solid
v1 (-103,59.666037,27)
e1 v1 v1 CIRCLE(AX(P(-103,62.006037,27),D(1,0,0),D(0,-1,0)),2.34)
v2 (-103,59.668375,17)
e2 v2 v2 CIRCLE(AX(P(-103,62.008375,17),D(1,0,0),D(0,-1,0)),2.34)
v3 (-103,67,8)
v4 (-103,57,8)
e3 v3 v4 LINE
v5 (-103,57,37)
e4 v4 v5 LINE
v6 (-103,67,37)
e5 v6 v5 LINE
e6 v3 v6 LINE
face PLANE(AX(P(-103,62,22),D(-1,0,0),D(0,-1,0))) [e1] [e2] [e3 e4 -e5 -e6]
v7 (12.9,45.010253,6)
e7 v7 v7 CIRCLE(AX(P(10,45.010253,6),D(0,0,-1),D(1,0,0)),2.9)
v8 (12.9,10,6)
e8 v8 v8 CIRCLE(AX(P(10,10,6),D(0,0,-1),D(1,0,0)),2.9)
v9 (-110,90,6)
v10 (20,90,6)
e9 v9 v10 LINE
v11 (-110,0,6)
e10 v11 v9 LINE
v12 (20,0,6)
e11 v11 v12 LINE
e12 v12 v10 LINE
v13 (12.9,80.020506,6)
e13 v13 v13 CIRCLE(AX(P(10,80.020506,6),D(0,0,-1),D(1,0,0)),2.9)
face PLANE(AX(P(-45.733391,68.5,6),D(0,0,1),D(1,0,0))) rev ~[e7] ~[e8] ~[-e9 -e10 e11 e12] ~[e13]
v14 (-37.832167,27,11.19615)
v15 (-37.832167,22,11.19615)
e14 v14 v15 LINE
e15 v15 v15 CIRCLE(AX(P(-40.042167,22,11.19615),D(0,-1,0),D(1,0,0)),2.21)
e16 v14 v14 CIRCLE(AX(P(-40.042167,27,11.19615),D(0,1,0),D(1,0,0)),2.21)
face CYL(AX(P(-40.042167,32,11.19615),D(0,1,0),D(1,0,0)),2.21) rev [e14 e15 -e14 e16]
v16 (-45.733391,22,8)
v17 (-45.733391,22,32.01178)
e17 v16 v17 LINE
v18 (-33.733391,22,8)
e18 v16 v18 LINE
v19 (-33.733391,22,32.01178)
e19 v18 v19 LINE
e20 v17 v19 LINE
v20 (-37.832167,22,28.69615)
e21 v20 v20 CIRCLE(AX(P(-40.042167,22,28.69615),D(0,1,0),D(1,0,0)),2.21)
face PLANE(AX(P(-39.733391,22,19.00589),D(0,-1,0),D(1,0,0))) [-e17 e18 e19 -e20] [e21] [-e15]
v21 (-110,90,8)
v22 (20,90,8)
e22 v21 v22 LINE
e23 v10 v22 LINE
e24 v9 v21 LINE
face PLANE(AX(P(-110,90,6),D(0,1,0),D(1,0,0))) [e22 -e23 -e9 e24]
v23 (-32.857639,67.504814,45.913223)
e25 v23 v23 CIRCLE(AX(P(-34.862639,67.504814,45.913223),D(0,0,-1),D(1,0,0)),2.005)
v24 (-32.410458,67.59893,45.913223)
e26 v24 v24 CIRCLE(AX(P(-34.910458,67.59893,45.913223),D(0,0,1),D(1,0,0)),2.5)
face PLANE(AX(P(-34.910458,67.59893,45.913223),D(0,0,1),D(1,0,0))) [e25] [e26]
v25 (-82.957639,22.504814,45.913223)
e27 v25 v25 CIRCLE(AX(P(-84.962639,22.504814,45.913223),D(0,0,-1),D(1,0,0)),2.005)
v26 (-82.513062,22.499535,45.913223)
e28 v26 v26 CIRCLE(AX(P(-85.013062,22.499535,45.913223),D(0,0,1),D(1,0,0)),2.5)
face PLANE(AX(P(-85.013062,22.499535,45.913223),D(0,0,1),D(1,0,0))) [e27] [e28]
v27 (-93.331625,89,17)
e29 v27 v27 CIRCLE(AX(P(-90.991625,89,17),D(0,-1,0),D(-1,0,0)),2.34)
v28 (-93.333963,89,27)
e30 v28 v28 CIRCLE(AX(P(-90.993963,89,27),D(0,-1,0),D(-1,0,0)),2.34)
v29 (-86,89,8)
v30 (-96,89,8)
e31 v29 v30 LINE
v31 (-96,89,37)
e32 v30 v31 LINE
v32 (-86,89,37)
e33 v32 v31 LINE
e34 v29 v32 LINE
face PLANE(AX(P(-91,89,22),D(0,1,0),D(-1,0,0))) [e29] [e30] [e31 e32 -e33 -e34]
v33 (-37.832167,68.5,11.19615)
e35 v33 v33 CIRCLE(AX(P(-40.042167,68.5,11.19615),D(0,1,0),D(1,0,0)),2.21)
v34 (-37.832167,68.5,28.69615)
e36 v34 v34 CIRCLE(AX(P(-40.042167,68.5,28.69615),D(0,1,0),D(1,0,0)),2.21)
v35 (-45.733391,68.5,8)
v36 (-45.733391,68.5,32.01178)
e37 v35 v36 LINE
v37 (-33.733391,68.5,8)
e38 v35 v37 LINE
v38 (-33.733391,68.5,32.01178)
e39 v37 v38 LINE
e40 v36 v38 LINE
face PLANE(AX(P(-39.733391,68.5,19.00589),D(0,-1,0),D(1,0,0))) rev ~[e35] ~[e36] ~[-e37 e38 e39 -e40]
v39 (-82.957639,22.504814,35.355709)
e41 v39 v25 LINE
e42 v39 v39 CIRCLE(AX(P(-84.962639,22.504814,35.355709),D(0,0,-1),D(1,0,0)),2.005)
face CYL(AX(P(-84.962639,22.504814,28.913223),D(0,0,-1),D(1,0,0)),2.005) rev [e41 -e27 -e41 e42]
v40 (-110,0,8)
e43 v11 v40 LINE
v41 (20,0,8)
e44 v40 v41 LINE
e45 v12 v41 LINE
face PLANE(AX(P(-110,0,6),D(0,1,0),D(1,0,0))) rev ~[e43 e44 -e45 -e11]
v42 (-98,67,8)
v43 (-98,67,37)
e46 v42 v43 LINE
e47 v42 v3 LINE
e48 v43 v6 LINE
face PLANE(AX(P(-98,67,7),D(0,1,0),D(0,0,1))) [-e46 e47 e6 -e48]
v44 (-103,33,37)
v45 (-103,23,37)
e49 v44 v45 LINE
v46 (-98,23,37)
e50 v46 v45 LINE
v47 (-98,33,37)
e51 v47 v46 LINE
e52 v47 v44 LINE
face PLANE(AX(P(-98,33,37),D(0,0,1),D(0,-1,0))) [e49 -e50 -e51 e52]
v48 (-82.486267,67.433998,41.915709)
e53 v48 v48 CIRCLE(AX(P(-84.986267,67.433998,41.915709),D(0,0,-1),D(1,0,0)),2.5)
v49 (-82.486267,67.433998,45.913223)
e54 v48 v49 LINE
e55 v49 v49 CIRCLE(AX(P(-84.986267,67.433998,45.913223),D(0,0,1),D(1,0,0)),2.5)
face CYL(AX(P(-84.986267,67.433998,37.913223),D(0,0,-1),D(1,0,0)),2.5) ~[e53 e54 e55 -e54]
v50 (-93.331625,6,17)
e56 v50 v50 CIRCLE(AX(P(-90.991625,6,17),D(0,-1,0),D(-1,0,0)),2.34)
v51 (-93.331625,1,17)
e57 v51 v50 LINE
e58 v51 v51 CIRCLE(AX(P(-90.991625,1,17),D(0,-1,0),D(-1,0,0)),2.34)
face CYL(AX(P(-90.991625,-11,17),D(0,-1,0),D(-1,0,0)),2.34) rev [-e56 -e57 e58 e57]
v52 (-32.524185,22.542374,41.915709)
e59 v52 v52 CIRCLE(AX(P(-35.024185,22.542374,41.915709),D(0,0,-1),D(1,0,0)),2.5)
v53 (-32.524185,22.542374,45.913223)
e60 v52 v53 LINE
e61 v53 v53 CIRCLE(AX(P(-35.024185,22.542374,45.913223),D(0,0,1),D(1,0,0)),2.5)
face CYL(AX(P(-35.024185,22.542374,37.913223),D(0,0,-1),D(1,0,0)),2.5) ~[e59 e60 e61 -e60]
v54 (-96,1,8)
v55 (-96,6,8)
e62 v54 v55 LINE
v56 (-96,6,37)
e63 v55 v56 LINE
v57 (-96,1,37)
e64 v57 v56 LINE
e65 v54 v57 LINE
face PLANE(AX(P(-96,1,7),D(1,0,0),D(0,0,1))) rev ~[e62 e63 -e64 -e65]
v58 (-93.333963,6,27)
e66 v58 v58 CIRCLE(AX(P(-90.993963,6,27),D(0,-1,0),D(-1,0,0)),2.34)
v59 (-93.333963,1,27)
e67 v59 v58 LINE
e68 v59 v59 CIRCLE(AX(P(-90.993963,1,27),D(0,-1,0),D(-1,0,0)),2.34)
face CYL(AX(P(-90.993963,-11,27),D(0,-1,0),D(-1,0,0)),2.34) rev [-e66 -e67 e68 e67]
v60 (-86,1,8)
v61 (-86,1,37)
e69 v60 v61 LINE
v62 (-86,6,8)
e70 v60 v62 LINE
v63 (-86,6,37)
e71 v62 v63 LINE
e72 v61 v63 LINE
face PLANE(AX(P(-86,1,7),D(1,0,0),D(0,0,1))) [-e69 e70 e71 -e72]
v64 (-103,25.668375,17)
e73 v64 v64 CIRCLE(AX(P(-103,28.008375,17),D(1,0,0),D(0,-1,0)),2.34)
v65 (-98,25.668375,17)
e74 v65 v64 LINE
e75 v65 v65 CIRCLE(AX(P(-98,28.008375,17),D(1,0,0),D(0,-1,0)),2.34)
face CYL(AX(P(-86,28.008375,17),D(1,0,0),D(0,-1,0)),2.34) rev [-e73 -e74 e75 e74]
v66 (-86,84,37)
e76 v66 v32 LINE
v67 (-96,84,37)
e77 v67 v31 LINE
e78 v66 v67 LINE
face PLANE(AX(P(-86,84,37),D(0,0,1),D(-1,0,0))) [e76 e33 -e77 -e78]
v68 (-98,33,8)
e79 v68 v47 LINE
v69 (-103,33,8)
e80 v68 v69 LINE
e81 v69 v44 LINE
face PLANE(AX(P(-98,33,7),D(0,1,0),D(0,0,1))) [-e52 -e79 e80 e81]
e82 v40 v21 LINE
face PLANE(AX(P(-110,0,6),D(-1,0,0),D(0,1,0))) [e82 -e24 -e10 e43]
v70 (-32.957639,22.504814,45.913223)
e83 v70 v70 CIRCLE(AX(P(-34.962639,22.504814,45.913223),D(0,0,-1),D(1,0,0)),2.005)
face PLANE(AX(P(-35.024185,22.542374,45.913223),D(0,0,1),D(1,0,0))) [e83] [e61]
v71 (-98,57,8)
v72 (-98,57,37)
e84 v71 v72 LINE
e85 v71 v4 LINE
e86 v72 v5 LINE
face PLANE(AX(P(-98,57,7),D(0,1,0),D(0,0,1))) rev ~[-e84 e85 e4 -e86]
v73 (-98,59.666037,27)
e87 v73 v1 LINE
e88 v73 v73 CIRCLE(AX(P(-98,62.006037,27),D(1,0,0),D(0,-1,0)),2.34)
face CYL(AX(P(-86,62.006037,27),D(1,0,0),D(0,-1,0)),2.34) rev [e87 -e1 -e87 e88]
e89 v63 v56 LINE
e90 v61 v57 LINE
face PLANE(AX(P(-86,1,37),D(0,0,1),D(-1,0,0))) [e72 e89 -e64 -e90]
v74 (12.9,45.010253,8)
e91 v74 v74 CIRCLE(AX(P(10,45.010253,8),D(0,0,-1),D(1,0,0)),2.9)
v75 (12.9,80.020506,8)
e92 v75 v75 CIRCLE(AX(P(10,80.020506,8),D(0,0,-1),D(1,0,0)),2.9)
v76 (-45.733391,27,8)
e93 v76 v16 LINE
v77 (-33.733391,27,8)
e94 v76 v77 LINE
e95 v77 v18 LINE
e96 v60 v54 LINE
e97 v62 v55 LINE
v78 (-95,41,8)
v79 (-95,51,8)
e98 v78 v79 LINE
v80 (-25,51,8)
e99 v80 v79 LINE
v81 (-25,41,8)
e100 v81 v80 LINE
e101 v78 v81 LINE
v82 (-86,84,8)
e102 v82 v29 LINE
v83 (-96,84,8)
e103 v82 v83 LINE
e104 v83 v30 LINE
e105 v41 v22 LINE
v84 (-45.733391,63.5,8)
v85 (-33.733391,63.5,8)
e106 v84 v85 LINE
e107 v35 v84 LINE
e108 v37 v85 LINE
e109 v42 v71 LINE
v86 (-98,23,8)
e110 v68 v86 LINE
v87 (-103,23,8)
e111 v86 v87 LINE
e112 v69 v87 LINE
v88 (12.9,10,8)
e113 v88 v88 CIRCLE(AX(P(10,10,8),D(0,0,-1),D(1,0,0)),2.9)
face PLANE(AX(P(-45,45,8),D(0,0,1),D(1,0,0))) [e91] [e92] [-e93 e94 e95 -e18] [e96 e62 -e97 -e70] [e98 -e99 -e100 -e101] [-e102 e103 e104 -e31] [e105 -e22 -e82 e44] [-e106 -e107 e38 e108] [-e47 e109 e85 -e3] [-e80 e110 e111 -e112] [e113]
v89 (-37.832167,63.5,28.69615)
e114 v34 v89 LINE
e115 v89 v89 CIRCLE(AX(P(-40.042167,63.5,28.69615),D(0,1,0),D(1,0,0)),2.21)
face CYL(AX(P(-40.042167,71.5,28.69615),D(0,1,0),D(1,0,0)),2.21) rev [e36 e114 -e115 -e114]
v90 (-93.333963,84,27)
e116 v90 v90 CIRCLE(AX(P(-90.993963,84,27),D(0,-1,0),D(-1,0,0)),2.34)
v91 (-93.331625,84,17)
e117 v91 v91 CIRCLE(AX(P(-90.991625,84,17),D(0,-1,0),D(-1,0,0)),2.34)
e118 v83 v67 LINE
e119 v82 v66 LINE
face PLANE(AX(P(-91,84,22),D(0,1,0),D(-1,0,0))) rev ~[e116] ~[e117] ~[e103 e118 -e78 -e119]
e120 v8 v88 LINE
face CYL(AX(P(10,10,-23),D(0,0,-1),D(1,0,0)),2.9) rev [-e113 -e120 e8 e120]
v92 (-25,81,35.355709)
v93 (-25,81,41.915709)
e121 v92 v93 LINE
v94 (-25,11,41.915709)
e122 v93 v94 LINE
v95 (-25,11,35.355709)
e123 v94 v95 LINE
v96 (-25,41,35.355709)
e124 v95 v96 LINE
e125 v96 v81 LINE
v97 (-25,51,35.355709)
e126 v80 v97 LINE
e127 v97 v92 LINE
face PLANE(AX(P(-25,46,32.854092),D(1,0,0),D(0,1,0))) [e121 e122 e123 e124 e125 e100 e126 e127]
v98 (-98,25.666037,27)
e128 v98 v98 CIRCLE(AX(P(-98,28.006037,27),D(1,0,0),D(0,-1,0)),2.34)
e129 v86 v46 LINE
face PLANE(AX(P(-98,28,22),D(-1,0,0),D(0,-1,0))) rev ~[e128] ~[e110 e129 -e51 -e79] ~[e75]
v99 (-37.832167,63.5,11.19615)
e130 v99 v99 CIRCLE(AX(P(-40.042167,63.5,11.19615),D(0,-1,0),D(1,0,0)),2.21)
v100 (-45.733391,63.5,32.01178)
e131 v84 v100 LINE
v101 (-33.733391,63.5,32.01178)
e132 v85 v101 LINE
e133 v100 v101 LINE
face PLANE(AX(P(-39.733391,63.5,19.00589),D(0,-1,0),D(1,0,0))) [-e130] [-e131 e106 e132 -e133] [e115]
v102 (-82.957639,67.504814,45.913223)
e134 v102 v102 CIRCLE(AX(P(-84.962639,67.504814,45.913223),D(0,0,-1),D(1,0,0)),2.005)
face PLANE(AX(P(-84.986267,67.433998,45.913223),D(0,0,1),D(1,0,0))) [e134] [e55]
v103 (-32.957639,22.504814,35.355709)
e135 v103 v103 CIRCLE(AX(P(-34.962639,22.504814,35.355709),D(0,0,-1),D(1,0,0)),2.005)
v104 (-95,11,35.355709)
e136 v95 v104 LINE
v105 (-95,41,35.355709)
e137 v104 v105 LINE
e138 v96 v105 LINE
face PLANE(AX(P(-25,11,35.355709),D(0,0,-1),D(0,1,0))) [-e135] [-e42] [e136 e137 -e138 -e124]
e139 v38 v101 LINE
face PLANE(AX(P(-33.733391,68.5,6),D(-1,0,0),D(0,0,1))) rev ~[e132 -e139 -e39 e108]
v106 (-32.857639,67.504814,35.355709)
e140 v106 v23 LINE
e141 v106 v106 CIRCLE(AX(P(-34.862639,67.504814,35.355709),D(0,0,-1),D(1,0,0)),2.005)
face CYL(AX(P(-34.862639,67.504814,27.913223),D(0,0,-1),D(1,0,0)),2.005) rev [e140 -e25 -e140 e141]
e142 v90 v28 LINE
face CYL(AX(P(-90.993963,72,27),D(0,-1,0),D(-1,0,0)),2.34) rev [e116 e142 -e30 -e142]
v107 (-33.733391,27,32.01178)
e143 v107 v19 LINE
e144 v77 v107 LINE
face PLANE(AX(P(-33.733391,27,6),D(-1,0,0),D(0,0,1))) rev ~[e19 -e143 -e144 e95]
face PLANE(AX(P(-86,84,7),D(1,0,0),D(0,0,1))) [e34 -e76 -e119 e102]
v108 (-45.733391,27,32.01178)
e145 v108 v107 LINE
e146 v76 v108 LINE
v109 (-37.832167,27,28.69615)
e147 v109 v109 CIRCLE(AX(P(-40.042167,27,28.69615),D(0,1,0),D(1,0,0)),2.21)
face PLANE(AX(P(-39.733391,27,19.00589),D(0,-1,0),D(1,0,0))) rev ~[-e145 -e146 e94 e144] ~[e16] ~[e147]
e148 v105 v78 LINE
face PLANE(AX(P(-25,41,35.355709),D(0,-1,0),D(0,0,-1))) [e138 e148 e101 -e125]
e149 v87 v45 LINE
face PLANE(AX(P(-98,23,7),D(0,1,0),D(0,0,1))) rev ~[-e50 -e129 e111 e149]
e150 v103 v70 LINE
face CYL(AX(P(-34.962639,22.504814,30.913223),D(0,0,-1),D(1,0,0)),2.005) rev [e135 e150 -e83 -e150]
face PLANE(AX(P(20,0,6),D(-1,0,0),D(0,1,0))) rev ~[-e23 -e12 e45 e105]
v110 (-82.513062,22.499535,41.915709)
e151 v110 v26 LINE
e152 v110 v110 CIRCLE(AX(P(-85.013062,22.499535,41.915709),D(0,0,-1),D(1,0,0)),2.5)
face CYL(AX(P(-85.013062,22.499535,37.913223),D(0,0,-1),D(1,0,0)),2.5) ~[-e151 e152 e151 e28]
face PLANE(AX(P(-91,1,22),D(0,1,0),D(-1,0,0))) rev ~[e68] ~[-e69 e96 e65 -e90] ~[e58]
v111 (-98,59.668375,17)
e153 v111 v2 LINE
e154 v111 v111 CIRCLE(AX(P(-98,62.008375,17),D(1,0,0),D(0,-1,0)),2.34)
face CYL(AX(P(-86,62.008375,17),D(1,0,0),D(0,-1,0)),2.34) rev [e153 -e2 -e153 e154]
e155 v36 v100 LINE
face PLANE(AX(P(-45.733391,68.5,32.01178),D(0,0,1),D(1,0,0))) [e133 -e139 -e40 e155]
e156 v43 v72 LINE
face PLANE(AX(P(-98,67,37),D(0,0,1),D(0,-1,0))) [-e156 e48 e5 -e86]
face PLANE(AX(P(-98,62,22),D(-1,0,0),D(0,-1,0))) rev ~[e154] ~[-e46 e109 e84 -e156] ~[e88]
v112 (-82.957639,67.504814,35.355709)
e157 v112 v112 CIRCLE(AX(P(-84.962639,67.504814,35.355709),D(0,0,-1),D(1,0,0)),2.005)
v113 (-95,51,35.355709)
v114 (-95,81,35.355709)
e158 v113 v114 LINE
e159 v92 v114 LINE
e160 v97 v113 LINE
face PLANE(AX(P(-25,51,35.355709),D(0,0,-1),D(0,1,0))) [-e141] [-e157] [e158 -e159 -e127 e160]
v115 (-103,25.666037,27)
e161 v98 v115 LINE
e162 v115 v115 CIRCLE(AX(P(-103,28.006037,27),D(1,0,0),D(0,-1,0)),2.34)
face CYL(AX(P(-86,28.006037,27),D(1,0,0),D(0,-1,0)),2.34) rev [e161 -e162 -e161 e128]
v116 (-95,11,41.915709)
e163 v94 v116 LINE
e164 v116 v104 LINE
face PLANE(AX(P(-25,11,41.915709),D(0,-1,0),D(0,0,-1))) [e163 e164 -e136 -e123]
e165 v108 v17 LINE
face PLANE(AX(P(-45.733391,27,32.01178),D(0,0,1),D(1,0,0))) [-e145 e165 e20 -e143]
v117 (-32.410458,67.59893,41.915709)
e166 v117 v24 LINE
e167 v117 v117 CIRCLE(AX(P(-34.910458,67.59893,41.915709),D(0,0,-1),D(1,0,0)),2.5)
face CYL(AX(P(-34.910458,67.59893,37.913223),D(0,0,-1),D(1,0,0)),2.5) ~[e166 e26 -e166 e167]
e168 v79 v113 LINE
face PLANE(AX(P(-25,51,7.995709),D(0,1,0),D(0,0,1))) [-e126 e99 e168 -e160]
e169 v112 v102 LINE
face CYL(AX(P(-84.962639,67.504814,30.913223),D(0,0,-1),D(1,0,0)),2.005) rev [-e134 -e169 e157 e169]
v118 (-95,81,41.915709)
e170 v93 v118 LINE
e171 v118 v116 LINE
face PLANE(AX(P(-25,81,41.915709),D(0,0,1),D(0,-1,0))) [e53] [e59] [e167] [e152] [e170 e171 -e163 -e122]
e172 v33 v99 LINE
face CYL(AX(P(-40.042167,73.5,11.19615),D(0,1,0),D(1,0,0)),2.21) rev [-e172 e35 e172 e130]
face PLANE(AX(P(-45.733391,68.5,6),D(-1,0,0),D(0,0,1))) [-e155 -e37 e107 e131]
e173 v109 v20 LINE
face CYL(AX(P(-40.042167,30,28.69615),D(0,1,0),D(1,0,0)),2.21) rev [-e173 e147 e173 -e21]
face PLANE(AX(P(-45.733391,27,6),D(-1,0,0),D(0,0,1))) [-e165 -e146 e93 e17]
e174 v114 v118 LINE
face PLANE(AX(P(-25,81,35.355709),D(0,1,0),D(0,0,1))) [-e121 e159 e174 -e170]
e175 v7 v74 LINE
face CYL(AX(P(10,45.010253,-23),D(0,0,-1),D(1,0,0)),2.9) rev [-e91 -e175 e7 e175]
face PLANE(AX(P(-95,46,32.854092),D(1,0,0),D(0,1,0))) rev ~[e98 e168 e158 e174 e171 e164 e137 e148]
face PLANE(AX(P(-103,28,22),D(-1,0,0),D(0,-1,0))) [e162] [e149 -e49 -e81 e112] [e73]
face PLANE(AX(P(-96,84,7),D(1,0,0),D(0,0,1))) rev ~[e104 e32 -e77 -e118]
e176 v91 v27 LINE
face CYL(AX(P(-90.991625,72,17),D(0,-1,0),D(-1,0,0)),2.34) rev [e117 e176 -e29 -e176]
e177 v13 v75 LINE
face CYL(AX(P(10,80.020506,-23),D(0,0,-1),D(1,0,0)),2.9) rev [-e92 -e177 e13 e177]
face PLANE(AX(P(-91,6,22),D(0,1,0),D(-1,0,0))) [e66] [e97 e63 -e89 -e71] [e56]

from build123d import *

# Parameters (mm, degrees)
SKETCH058_R                = 2.21
EXTRUDE064_DEPTH           = 10
SKETCH057_R                = 2.21
EXTRUDE063_DEPTH           = 10
SKETCH056_W                = 12
SKETCH056_H                = 26.01178
EXTRUDE062_DEPTH           = 5
SKETCH055_R                = 2.21
EXTRUDE061_DEPTH           = 10
SKETCH054_R                = 2.21
EXTRUDE060_DEPTH           = 10
SKETCH053_W                = 12
SKETCH053_H                = 26.01178
EXTRUDE059_DEPTH           = 5
SKETCH048_R                = 2.34
EXTRUDE050_DEPTH           = 20
SKETCH047_W                = 10
SKETCH047_H                = 30
EXTRUDE049_DEPTH           = 5
EXTRUDE049_PLACEMENT_ANGLE = 90
CUT029_PLACEMENT_ANGLE     = 90
SKETCH040_R                = 2.34
EXTRUDE042_DEPTH           = 20
SKETCH039_W                = 10
SKETCH039_H                = 30
EXTRUDE041_DEPTH           = 5
EXTRUDE041_PLACEMENT_ANGLE = 90
SKETCH038_R                = 2.34
EXTRUDE039_DEPTH           = 20
SKETCH037_W                = 10
SKETCH037_H                = 30
EXTRUDE038_DEPTH           = 5
EXTRUDE038_PLACEMENT_ANGLE = 90
SKETCH046_R                = 2.34
EXTRUDE048_DEPTH           = 20
SKETCH045_W                = 10
SKETCH045_H                = 30
EXTRUDE047_DEPTH           = 5
EXTRUDE047_PLACEMENT_ANGLE = 90
CUT026_PLACEMENT_ANGLE     = 90
SKETCH016_R                = 2.005
EXTRUDE058_DEPTH           = 20
EXTRUDE057_DEPTH           = 20
EXTRUDE056_DEPTH           = 20
EXTRUDE055_DEPTH           = 20
SKETCH015_R                = 2.5
EXTRUDE054_DEPTH           = 8
EXTRUDE053_DEPTH           = 70
EXTRUDE053_PLACEMENT_ANGLE = 90
SKETCH051_R                = 2.9
EXTRUDE052_DEPTH           = 50
SKETCH050_W                = 130
SKETCH050_H                = 90
EXTRUDE051_DEPTH           = 2


with BuildPart() as extrude064:
    # Sketch058 → Extrude064 (new body)
    with BuildSketch(Plane.XZ):
        with Locations((-30.242167, 20.01615)):
            Circle(SKETCH058_R)
    extrude(amount=EXTRUDE064_DEPTH)


with BuildPart() as extrude064_1:
    # Extrude064 placement: moved
    add(extrude064.part.moved(Location((-9.8, 5, -14.82))))


with BuildPart() as extrude063:
    # Sketch057 → Extrude063 (new body)
    with BuildSketch(Plane.XZ):
        with Locations((-30.242167, 20.01615)):
            Circle(SKETCH057_R)
    extrude(amount=EXTRUDE063_DEPTH)


with BuildPart() as extrude063_1:
    # Extrude063 placement: moved
    add(extrude063.part.moved(Location((-9.8, 3, 2.68))))


with BuildPart() as cut035:
    # Sketch056 → Extrude062 (new body)
    with BuildSketch(Plane.XZ):
        with Locations((-39.733391, 13.00589)):
            Rectangle(SKETCH056_W, SKETCH056_H)
    extrude(amount=EXTRUDE062_DEPTH)

    # Cut034: cut Extrude063
    add(extrude063_1.part, mode=Mode.SUBTRACT)

    # Cut035: cut Extrude064
    add(extrude064_1.part, mode=Mode.SUBTRACT)


with BuildPart() as cut035_1:
    # Cut035 placement: moved
    add(cut035.part.moved(Location((0, 68.5, 6))))


with BuildPart() as extrude061:
    # Sketch055 → Extrude061 (new body)
    with BuildSketch(Plane.XZ):
        with Locations((-30.242167, 20.01615)):
            Circle(SKETCH055_R)
    extrude(amount=EXTRUDE061_DEPTH)


with BuildPart() as extrude061_1:
    # Extrude061 placement: moved
    add(extrude061.part.moved(Location((-9.8, 5, -14.82))))


with BuildPart() as extrude060:
    # Sketch054 → Extrude060 (new body)
    with BuildSketch(Plane.XZ):
        with Locations((-30.242167, 20.01615)):
            Circle(SKETCH054_R)
    extrude(amount=EXTRUDE060_DEPTH)


with BuildPart() as extrude060_1:
    # Extrude060 placement: moved
    add(extrude060.part.moved(Location((-9.8, 3, 2.68))))


with BuildPart() as cut033:
    # Sketch053 → Extrude059 (new body)
    with BuildSketch(Plane.XZ):
        with Locations((-39.733391, 13.00589)):
            Rectangle(SKETCH053_W, SKETCH053_H)
    extrude(amount=EXTRUDE059_DEPTH)

    # Cut032: cut Extrude060
    add(extrude060_1.part, mode=Mode.SUBTRACT)

    # Cut033: cut Extrude061
    add(extrude061_1.part, mode=Mode.SUBTRACT)


with BuildPart() as cut033_1:
    # Cut033 placement: moved
    add(cut033.part.moved(Location((0, 27, 6))))


with BuildPart() as tornillos010:
    # Sketch048 (on Face6 of Extrude049) → Extrude050 (new body)
    with BuildSketch(Plane(origin=(-101, -107, 0), x_dir=(0, -1, 0), z_dir=(-1, 0, 0))):
        with Locations((-135.006037, 30)):
            Circle(SKETCH048_R)
        with Locations((-135.008375, 20)):
            Circle(SKETCH048_R)
    extrude(amount=EXTRUDE050_DEPTH)


with BuildPart() as tornillos010_1:
    # Extrude050 placement: moved
    add(tornillos010.part.moved(Location((17, 0, 0))))


with BuildPart() as soporte012:
    # Sketch047 → Extrude049 (new body)
    with BuildSketch(Plane.XZ):
        with Locations((-135, 25)):
            Rectangle(SKETCH047_W, SKETCH047_H)
    extrude(amount=EXTRUDE049_DEPTH)


with BuildPart() as soporte012_1:
    # Extrude049 placement: moved
    add(soporte012.part.moved(Location((-96, -107, 0))).rotate(Axis((-96, -107, 0), (0, 0, -1)), EXTRUDE049_PLACEMENT_ANGLE))

    # Cut029: cut Tornillos010
    add(tornillos010_1.part, mode=Mode.SUBTRACT)


with BuildPart() as soporte012_2:
    # Cut029 placement: moved
    add(soporte012_1.part.moved(Location((-119, -12, -3))).rotate(Axis((-119, -12, -3), (0, 0, -1)), CUT029_PLACEMENT_ANGLE))


with BuildPart() as tornillos007:
    # Sketch040 (on Face6 of Extrude041) → Extrude042 (new body)
    with BuildSketch(Plane(origin=(-101, -107, 0), x_dir=(0, -1, 0), z_dir=(-1, 0, 0))):
        with Locations((-135.006037, 30)):
            Circle(SKETCH040_R)
        with Locations((-135.008375, 20)):
            Circle(SKETCH040_R)
    extrude(amount=EXTRUDE042_DEPTH)


with BuildPart() as tornillos007_1:
    # Extrude042 placement: moved
    add(tornillos007.part.moved(Location((17, 0, 0))))


with BuildPart() as soporte011:
    # Sketch039 → Extrude041 (new body)
    with BuildSketch(Plane.XZ):
        with Locations((-135, 25)):
            Rectangle(SKETCH039_W, SKETCH039_H)
    extrude(amount=EXTRUDE041_DEPTH)


with BuildPart() as soporte011_1:
    # Extrude041 placement: moved
    add(soporte011.part.moved(Location((-96, -107, 0))).rotate(Axis((-96, -107, 0), (0, 0, -1)), EXTRUDE041_PLACEMENT_ANGLE))

    # Cut028: cut Tornillos007
    add(tornillos007_1.part, mode=Mode.SUBTRACT)


with BuildPart() as soporte011_2:
    # Cut028 placement: moved
    add(soporte011_1.part.moved(Location((-2, 34, -3))))


with BuildPart() as tornillos005:
    # Sketch038 (on Face6 of Extrude038) → Extrude039 (new body)
    with BuildSketch(Plane(origin=(-101, -107, 0), x_dir=(0, -1, 0), z_dir=(-1, 0, 0))):
        with Locations((-135.006037, 30)):
            Circle(SKETCH038_R)
        with Locations((-135.008375, 20)):
            Circle(SKETCH038_R)
    extrude(amount=EXTRUDE039_DEPTH)


with BuildPart() as tornillos005_1:
    # Extrude039 placement: moved
    add(tornillos005.part.moved(Location((17, 0, 0))))


with BuildPart() as soporte010:
    # Sketch037 → Extrude038 (new body)
    with BuildSketch(Plane.XZ):
        with Locations((-135, 25)):
            Rectangle(SKETCH037_W, SKETCH037_H)
    extrude(amount=EXTRUDE038_DEPTH)


with BuildPart() as soporte010_1:
    # Extrude038 placement: moved
    add(soporte010.part.moved(Location((-96, -107, 0))).rotate(Axis((-96, -107, 0), (0, 0, -1)), EXTRUDE038_PLACEMENT_ANGLE))

    # Cut027: cut Tornillos005
    add(tornillos005_1.part, mode=Mode.SUBTRACT)


with BuildPart() as soporte010_2:
    # Cut027 placement: moved
    add(soporte010_1.part.moved(Location((-2, 0, -3))))


with BuildPart() as tornillos009:
    # Sketch046 (on Face6 of Extrude047) → Extrude048 (new body)
    with BuildSketch(Plane(origin=(-101, -107, 0), x_dir=(0, -1, 0), z_dir=(-1, 0, 0))):
        with Locations((-135.006037, 30)):
            Circle(SKETCH046_R)
        with Locations((-135.008375, 20)):
            Circle(SKETCH046_R)
    extrude(amount=EXTRUDE048_DEPTH)


with BuildPart() as tornillos009_1:
    # Extrude048 placement: moved
    add(tornillos009.part.moved(Location((17, 0, 0))))


with BuildPart() as soporte009:
    # Sketch045 → Extrude047 (new body)
    with BuildSketch(Plane.XZ):
        with Locations((-135, 25)):
            Rectangle(SKETCH045_W, SKETCH045_H)
    extrude(amount=EXTRUDE047_DEPTH)


with BuildPart() as soporte009_1:
    # Extrude047 placement: moved
    add(soporte009.part.moved(Location((-96, -107, 0))).rotate(Axis((-96, -107, 0), (0, 0, -1)), EXTRUDE047_PLACEMENT_ANGLE))

    # Cut026: cut Tornillos009
    add(tornillos009_1.part, mode=Mode.SUBTRACT)


with BuildPart() as soporte009_2:
    # Cut026 placement: moved
    add(soporte009_1.part.moved(Location((-119, -95, -3))).rotate(Axis((-119, -95, -3), (0, 0, -1)), CUT026_PLACEMENT_ANGLE))


with BuildPart() as tornillo008:
    # Sketch016 (on Face16 of Fusion001) → Extrude058 (new body)
    with BuildSketch(Plane.XY.offset(45.913223)):
        with Locations((-84.962639, 67.504814)):
            Circle(SKETCH016_R)
    extrude(amount=EXTRUDE058_DEPTH)


with BuildPart() as tornillo008_1:
    # Extrude058 placement: moved
    add(tornillo008.part.moved(Location((0, -45, -17))))


with BuildPart() as tornillo007:
    # Sketch016 (on Face16 of Fusion001) → Extrude057 (new body)
    with BuildSketch(Plane.XY.offset(45.913223)):
        with Locations((-84.962639, 67.504814)):
            Circle(SKETCH016_R)
    extrude(amount=EXTRUDE057_DEPTH)


with BuildPart() as tornillo007_1:
    # Extrude057 placement: moved
    add(tornillo007.part.moved(Location((50, -45, -15))))


with BuildPart() as tornillo006:
    # Sketch016 (on Face16 of Fusion001) → Extrude056 (new body)
    with BuildSketch(Plane.XY.offset(45.913223)):
        with Locations((-84.962639, 67.504814)):
            Circle(SKETCH016_R)
    extrude(amount=EXTRUDE056_DEPTH)


with BuildPart() as tornillo006_1:
    # Extrude056 placement: moved
    add(tornillo006.part.moved(Location((0, 0, -15))))


with BuildPart() as tornillo005:
    # Sketch016 (on Face16 of Fusion001) → Extrude055 (new body)
    with BuildSketch(Plane.XY.offset(45.913223)):
        with Locations((-84.962639, 67.504814)):
            Circle(SKETCH016_R)
    extrude(amount=EXTRUDE055_DEPTH)


with BuildPart() as tornillo005_1:
    # Extrude055 placement: moved
    add(tornillo005.part.moved(Location((50.1, 0, -18))))


with BuildPart() as tornillos012:
    # Sketch015 (on Face16 of Fusion) → Extrude054 (new body)
    with BuildSketch(Plane.XY.offset(41.913223)):
        with Locations((-84.986267, 67.433998)):
            Circle(SKETCH015_R)
        with Locations((-85.013062, 22.499535)):
            Circle(SKETCH015_R)
        with Locations((-35.024185, 22.542374)):
            Circle(SKETCH015_R)
        with Locations((-34.910458, 67.59893)):
            Circle(SKETCH015_R)
    extrude(amount=EXTRUDE054_DEPTH)


with BuildPart() as tornillos012_1:
    # Extrude054 placement: moved
    add(tornillos012.part.moved(Location((0, 0, -4))))


with BuildPart() as base_placa_roja001:
    # Sketch052 → Extrude053 (new body)
    with BuildSketch(Plane.XZ):
        Polygon((-100, 9.995709), (-100, 37.355709), (-130, 37.355709), (-130, 43.915709), (-60, 43.915709), (-60, 37.355709), (-90, 37.355709), (-90, 9.995709), align=None)
    extrude(amount=EXTRUDE053_DEPTH)


with BuildPart() as base_placa_roja001_1:
    # Extrude053 placement: moved
    add(base_placa_roja001.part.moved(Location((-25, -49, -2))).rotate(Axis((-25, -49, -2), (0, 0, -1)), EXTRUDE053_PLACEMENT_ANGLE))


with BuildPart() as tornillos011:
    # Sketch051 (on Face6 of Extrude051) → Extrude052 (new body)
    with BuildSketch(Plane.XY.offset(2)):
        with Locations((120, 80.020506)):
            Circle(SKETCH051_R)
        with Locations((120, 45.010253)):
            Circle(SKETCH051_R)
        with Locations((120, 10)):
            Circle(SKETCH051_R)
    extrude(amount=EXTRUDE052_DEPTH)


with BuildPart() as tornillos011_1:
    # Extrude052 placement: moved
    add(tornillos011.part.moved(Location((0, 0, -31))))


with BuildPart() as no:
    # Sketch050 → Extrude051 (new body)
    with BuildSketch(Plane.XY):
        with Locations((65, 45)):
            Rectangle(SKETCH050_W, SKETCH050_H)
    extrude(amount=EXTRUDE051_DEPTH)

    # Cut021: cut Tornillos011
    add(tornillos011_1.part, mode=Mode.SUBTRACT)


with BuildPart() as no_1:
    # Cut021 placement: moved
    add(no.part.moved(Location((-110, 0, 6))))

    # Fusion010: union Base placa roja001
    add(base_placa_roja001_1.part)

    # Fusion011: union Tornillos012
    add(tornillos012_1.part)

    # Cut022: cut Tornillo005
    add(tornillo005_1.part, mode=Mode.SUBTRACT)

    # Cut023: cut Tornillo006
    add(tornillo006_1.part, mode=Mode.SUBTRACT)

    # Cut024: cut Tornillo007
    add(tornillo007_1.part, mode=Mode.SUBTRACT)

    # Cut025: cut Tornillo008
    add(tornillo008_1.part, mode=Mode.SUBTRACT)

    # Fusion012: union Soporte009
    add(soporte009_2.part)

    # Fusion013: union Soporte010
    add(soporte010_2.part)

    # Fusion014: union Soporte011
    add(soporte011_2.part)

    # Fusion015: union Soporte012
    add(soporte012_2.part)

    # Fusion016: union Cut033
    add(cut033_1.part)

    # Fusion017: union Cut035
    add(cut035_1.part)


solid = no_1.part
